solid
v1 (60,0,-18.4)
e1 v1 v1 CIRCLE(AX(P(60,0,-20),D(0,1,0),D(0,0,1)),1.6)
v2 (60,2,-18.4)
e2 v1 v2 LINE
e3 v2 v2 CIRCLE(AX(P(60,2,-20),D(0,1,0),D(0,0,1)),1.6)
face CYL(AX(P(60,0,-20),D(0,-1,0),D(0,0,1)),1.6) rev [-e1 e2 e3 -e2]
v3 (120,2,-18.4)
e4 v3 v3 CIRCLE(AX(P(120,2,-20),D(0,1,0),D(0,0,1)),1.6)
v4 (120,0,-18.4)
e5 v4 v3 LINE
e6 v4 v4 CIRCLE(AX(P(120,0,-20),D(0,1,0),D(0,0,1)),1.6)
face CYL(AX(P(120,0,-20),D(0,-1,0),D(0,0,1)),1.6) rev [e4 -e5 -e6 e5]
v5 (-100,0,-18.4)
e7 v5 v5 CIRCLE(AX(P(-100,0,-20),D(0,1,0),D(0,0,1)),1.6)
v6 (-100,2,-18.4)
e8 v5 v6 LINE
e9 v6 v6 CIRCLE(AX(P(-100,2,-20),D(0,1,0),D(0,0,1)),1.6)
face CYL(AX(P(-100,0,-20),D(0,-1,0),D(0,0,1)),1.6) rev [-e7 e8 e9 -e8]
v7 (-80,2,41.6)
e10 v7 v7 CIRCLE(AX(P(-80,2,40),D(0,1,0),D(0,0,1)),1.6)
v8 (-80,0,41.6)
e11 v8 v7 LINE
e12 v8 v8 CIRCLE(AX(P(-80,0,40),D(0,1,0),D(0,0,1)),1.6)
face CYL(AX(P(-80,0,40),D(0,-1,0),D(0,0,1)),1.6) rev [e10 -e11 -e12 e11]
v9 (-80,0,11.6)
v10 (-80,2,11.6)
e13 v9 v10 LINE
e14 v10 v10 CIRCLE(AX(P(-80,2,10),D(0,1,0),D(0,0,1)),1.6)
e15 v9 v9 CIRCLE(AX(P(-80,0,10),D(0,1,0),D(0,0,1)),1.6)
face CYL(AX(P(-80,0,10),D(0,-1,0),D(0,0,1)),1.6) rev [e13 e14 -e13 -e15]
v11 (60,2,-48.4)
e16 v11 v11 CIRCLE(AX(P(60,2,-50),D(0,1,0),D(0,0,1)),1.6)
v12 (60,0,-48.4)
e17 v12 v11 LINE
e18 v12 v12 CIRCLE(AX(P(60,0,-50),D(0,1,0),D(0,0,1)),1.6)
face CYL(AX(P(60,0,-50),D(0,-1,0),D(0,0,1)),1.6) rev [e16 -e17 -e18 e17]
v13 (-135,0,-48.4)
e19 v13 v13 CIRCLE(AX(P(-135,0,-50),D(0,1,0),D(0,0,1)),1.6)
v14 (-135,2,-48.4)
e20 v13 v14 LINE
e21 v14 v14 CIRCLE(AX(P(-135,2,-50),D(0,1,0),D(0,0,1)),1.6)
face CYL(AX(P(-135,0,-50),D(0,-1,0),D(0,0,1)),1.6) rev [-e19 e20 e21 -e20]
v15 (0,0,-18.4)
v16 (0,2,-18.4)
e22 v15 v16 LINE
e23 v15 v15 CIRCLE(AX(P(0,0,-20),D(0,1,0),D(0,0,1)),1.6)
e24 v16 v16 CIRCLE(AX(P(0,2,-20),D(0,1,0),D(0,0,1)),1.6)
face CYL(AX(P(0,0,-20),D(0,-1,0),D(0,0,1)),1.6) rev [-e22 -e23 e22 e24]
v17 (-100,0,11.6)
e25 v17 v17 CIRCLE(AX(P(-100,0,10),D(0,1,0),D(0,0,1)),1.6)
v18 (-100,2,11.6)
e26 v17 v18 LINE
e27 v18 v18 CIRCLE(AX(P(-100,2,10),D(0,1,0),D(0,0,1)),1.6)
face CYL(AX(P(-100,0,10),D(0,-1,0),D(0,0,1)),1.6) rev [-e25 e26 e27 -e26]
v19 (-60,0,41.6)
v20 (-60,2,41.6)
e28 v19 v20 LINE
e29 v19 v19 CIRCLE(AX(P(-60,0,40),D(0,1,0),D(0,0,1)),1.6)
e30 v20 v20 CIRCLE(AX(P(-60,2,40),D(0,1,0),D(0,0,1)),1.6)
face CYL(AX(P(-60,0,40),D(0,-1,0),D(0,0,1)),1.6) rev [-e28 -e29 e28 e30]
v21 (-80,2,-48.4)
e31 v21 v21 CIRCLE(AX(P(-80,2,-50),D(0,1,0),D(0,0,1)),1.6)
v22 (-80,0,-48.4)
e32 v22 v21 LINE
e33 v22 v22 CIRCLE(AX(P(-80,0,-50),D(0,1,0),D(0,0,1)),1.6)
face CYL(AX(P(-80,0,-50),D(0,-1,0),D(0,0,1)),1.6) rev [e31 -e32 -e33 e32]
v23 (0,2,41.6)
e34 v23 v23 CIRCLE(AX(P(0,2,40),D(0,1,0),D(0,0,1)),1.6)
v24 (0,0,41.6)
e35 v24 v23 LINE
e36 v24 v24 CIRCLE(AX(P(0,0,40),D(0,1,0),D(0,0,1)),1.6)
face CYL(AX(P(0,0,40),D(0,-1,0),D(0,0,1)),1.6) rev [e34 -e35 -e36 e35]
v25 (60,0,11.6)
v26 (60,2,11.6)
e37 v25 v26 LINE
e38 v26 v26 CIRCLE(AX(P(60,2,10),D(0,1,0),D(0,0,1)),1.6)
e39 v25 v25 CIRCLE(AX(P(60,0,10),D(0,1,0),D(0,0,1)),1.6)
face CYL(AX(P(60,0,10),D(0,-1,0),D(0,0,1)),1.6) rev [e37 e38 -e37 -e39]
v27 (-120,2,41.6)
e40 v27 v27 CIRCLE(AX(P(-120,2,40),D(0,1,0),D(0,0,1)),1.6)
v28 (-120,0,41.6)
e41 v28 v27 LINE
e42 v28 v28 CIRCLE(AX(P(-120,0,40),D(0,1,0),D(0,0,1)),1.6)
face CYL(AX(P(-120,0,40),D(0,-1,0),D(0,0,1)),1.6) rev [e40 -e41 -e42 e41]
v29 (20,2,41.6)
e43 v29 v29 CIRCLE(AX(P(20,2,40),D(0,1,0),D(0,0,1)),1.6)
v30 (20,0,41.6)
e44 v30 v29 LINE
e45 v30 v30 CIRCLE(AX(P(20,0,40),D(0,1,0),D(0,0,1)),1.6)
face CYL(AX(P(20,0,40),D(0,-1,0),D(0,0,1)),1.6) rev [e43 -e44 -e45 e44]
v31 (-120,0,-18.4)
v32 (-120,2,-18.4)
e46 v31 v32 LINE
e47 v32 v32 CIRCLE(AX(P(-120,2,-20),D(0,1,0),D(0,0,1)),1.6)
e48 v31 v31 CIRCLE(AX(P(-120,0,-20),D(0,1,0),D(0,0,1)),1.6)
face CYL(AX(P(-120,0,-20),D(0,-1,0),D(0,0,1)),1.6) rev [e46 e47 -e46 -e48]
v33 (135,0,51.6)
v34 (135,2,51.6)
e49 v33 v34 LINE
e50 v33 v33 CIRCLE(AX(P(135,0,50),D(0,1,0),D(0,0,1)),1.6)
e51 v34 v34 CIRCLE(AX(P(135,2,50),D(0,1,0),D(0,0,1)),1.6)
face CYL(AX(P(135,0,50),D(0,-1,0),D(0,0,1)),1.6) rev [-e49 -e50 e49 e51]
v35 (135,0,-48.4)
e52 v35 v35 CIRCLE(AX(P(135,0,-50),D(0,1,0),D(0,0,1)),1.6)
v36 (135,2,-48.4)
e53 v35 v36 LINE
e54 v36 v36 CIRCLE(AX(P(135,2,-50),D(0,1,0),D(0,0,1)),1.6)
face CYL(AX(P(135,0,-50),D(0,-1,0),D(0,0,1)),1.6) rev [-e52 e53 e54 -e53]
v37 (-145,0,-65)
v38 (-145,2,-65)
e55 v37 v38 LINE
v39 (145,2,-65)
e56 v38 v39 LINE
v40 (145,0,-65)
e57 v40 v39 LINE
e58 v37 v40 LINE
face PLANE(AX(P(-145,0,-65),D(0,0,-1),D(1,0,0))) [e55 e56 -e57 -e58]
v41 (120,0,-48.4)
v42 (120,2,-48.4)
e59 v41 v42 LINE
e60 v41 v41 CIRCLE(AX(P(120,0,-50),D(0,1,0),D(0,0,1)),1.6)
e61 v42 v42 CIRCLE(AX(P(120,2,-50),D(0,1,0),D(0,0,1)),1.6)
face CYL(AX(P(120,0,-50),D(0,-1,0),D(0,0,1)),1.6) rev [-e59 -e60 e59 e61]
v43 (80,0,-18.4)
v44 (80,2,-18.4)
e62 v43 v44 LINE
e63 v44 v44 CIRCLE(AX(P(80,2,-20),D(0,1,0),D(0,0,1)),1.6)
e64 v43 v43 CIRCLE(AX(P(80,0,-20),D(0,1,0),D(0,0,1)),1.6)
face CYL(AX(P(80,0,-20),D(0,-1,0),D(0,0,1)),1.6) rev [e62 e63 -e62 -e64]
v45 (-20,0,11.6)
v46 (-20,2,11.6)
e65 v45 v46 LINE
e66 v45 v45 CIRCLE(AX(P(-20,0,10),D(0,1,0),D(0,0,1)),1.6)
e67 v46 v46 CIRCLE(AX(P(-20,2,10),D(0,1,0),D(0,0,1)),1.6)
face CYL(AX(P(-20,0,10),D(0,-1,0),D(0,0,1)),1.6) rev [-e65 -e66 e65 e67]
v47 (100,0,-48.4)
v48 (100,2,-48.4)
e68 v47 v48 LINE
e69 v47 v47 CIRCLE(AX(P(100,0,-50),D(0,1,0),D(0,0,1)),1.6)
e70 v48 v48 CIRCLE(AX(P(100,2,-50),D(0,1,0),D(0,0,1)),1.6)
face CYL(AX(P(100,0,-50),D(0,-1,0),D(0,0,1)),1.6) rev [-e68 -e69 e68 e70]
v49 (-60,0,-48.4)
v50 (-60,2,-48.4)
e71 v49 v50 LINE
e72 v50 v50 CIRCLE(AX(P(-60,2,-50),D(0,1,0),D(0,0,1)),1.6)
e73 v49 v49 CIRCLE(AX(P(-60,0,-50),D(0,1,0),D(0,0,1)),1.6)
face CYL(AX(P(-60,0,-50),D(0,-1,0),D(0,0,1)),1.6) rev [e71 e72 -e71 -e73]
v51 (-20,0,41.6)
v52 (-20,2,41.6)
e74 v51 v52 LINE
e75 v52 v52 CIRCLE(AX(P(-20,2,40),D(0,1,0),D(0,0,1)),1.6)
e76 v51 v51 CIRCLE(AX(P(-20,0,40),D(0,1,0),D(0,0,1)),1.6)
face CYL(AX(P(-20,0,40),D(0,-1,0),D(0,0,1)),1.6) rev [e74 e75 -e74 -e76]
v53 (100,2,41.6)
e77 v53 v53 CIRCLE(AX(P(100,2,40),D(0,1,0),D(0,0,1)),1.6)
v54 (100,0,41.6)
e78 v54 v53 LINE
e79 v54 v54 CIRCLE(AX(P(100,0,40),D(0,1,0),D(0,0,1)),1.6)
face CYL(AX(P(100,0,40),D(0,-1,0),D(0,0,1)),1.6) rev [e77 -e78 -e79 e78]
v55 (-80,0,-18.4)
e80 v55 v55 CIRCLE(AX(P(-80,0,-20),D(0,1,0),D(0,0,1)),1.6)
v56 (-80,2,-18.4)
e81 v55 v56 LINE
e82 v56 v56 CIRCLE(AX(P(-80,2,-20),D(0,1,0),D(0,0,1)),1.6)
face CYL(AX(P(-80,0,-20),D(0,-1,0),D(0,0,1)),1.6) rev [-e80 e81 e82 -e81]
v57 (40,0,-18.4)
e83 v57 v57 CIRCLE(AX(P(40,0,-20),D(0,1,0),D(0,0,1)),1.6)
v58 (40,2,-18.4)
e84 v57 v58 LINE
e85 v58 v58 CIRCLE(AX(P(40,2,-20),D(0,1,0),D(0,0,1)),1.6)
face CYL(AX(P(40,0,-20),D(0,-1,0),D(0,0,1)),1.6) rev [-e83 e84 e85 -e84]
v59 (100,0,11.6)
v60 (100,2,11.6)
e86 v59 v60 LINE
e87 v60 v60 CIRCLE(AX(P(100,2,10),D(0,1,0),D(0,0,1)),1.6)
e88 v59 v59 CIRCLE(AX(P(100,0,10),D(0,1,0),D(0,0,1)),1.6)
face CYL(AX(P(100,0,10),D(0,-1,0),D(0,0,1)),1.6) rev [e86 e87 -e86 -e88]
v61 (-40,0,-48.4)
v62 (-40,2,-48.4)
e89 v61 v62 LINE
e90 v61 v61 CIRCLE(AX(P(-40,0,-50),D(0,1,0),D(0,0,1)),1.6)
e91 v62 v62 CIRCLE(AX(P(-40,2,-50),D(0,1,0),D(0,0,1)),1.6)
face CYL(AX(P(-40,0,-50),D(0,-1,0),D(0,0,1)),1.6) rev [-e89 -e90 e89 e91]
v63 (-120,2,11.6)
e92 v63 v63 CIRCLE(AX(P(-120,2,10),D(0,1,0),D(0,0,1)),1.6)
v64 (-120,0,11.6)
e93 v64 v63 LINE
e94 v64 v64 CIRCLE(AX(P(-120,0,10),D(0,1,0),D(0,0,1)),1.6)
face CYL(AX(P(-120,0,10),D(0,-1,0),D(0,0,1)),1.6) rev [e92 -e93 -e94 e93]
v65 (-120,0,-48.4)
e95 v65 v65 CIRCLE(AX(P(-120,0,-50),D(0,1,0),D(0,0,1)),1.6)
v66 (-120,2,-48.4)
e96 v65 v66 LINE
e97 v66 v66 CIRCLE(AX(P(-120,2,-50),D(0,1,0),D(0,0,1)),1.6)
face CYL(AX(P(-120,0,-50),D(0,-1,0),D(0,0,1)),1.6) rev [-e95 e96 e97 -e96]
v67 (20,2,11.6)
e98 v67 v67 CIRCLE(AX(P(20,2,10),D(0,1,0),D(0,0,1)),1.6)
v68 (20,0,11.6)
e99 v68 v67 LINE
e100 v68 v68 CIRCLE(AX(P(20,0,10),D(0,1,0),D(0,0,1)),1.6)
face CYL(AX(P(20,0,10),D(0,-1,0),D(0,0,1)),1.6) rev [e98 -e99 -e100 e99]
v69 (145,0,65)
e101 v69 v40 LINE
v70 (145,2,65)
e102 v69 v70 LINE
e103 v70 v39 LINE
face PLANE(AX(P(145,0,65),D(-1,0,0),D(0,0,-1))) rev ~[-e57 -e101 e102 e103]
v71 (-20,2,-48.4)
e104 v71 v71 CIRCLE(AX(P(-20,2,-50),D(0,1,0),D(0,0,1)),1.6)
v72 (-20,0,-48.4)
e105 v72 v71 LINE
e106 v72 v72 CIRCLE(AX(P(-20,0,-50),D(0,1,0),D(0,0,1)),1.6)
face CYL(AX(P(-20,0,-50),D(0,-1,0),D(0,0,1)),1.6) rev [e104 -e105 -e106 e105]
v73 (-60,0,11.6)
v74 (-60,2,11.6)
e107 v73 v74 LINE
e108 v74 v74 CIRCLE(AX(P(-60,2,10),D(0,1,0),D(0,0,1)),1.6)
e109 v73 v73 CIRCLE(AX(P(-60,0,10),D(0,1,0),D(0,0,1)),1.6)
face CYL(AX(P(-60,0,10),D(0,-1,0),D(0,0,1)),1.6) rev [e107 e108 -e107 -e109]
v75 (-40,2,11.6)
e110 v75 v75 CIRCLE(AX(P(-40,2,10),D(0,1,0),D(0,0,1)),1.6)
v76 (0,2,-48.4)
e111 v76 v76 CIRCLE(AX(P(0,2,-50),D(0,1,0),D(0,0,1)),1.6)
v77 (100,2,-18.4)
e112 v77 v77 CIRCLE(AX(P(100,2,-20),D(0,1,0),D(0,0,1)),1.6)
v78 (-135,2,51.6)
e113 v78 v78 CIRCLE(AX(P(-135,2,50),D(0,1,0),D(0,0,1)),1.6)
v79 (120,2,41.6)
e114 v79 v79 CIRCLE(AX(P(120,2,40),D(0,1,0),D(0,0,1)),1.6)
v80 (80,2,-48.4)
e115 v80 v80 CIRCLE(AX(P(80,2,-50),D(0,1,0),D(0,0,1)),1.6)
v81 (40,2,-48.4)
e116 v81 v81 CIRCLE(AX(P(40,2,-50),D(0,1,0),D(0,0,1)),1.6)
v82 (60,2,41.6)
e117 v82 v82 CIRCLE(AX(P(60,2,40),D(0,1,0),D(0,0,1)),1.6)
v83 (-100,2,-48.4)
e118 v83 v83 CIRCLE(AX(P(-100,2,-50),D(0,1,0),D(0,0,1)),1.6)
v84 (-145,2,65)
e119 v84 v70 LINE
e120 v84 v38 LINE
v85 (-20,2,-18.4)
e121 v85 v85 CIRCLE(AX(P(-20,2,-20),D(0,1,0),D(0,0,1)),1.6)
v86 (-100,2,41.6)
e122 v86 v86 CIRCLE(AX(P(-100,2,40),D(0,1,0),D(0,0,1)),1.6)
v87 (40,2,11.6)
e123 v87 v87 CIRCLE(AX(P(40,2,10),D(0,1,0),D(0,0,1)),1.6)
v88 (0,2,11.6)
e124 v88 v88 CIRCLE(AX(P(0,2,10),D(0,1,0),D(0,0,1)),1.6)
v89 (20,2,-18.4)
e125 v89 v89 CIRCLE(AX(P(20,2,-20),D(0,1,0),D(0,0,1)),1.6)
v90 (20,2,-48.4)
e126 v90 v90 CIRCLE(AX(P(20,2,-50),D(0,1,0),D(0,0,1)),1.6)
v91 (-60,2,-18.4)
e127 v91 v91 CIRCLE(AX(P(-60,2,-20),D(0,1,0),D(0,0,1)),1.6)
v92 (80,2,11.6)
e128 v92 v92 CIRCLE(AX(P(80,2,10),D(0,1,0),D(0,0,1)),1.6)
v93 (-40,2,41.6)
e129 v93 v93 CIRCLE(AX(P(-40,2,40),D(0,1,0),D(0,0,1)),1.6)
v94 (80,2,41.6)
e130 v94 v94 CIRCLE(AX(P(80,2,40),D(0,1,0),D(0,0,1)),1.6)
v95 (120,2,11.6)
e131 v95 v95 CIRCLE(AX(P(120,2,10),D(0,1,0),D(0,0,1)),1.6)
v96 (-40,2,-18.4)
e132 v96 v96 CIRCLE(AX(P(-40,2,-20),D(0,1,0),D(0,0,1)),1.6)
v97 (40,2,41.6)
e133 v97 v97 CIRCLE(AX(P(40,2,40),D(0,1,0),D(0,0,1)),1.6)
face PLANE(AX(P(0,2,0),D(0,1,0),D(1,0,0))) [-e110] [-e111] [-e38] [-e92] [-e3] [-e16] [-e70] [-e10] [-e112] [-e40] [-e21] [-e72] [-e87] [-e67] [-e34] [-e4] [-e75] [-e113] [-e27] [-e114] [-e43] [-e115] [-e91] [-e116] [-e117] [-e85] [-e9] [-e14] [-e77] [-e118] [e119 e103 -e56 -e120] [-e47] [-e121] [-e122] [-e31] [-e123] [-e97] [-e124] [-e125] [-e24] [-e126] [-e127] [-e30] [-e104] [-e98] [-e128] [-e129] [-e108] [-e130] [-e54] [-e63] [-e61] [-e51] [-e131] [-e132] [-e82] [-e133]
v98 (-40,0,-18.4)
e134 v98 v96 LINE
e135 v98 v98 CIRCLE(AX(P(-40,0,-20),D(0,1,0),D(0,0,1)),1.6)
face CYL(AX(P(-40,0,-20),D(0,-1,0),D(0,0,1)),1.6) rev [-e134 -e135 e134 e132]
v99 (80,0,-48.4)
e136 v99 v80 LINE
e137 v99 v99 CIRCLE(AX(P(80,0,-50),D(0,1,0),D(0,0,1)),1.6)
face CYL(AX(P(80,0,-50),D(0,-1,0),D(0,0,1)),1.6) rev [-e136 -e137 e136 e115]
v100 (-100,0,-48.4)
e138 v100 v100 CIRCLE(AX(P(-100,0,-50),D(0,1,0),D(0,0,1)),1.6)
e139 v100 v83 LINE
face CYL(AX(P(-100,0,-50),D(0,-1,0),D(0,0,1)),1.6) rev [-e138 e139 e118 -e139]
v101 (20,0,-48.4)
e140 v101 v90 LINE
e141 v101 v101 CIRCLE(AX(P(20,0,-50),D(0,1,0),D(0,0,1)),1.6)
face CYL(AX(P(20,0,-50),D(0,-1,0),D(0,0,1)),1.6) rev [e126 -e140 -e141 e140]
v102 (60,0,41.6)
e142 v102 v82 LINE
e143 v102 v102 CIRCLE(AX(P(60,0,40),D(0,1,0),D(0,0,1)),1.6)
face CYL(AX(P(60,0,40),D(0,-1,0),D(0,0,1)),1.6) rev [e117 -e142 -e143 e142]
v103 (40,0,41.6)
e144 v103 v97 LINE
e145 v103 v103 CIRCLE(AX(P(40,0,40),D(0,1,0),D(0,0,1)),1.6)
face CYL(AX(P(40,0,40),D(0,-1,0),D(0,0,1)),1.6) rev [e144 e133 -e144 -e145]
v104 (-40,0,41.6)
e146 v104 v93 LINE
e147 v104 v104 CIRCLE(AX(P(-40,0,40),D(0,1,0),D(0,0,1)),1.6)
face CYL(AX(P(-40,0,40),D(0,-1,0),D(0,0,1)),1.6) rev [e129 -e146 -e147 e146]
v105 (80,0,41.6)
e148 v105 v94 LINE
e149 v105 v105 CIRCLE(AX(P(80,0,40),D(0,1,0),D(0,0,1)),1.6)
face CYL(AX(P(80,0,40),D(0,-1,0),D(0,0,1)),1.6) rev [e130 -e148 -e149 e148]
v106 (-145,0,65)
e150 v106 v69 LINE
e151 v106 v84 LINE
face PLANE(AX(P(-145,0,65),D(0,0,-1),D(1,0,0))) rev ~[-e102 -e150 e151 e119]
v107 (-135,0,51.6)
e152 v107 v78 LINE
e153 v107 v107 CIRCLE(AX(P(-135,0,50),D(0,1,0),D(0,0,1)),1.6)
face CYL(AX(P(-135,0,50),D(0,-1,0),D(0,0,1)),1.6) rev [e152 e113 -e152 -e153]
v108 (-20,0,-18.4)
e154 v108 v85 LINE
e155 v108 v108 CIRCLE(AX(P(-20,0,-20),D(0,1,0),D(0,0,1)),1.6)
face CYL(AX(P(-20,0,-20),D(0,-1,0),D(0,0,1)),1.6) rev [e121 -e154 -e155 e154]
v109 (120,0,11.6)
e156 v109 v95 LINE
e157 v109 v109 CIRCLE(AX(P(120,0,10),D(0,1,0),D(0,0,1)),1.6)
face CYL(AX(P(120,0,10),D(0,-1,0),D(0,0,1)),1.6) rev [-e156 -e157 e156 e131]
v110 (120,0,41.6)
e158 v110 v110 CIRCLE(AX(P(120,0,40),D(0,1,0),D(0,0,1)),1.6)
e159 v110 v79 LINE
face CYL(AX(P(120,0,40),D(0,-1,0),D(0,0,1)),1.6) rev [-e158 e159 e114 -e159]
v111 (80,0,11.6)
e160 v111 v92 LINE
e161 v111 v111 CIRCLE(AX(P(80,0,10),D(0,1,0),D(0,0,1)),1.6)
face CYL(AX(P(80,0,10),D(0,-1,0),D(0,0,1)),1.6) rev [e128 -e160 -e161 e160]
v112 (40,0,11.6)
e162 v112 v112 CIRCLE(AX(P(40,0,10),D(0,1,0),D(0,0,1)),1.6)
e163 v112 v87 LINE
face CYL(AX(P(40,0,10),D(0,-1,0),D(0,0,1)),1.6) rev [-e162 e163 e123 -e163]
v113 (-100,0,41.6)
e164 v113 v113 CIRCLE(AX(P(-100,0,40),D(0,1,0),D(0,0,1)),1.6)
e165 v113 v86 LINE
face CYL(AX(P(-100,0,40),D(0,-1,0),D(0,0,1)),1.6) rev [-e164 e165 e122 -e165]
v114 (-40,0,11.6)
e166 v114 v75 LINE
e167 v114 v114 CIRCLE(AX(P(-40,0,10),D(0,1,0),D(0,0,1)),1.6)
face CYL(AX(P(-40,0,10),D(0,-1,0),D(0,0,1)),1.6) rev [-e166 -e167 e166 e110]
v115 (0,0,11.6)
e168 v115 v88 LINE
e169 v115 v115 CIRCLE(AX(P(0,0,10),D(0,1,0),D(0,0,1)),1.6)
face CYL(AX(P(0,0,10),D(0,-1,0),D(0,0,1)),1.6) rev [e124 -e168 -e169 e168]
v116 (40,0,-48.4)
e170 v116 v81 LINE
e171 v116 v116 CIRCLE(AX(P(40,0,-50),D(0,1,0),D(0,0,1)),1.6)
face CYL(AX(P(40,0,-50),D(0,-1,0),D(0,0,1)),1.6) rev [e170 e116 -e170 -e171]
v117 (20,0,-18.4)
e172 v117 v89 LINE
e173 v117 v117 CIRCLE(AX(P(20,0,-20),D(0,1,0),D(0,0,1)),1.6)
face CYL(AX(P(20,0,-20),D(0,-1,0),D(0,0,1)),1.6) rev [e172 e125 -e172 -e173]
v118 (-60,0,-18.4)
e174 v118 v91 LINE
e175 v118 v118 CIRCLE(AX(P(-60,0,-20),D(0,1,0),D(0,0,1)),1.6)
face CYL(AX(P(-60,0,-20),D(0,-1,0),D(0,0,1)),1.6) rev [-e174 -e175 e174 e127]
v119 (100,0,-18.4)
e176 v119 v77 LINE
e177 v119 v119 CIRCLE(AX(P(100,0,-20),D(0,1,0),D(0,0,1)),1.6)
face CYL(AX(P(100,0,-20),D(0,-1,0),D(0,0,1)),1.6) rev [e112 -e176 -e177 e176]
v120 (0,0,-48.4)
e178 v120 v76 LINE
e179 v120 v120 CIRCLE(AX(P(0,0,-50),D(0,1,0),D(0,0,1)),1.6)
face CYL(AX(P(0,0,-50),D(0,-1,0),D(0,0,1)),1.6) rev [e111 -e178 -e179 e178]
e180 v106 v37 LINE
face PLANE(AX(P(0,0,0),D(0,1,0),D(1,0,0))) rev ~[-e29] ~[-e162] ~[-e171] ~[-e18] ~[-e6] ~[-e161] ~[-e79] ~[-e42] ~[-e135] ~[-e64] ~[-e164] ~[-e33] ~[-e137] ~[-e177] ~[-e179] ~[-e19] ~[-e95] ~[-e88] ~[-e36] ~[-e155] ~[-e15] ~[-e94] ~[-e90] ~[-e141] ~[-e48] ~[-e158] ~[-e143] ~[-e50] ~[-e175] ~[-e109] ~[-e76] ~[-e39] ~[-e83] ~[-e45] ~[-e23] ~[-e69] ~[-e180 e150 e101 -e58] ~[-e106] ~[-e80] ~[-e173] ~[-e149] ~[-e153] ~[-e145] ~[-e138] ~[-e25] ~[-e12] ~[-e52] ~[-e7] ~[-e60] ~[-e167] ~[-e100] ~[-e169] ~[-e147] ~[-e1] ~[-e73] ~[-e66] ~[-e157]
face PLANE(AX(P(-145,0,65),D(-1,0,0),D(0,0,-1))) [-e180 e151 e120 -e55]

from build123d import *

# Parameters (mm, degrees)
SKETCH1_W           = 290
SKETCH1_H           = 130
SKETCH1_R           = 1.6
BOSS_EXTRUDE1_DEPTH = 2


with BuildPart() as part:
    # Sketch1 → Boss-Extrude1 (new body)
    with BuildSketch(Plane(origin=(0, 0, 0), x_dir=(1, 0, 0), z_dir=(0, 1, 0))):
        Rectangle(SKETCH1_W, SKETCH1_H)
        with Locations(Location((-135, 50, 0), (0, 0, 270))):
            Circle(SKETCH1_R, mode=Mode.SUBTRACT)
        with Locations(Location((-135, -50, 0), (0, 0, 270))):
            Circle(SKETCH1_R, mode=Mode.SUBTRACT)
        with Locations(Location((135, -50, 0), (0, 0, 270))):
            Circle(SKETCH1_R, mode=Mode.SUBTRACT)
        with Locations(Location((135, 50, 0), (0, 0, 270))):
            Circle(SKETCH1_R, mode=Mode.SUBTRACT)
        with Locations(Location((-120, 50, 0), (0, 0, 270))):
            Circle(SKETCH1_R, mode=Mode.SUBTRACT)
        with Locations(Location((-100, 50, 0), (0, 0, 270))):
            Circle(SKETCH1_R, mode=Mode.SUBTRACT)
        with Locations(Location((-80, 50, 0), (0, 0, 270))):
            Circle(SKETCH1_R, mode=Mode.SUBTRACT)
        with Locations(Location((-60, 50, 0), (0, 0, 270))):
            Circle(SKETCH1_R, mode=Mode.SUBTRACT)
        with Locations(Location((-40, 50, 0), (0, 0, 270))):
            Circle(SKETCH1_R, mode=Mode.SUBTRACT)
        with Locations(Location((-20, 50, 0), (0, 0, 270))):
            Circle(SKETCH1_R, mode=Mode.SUBTRACT)
        with Locations(Location((0, 50, 0), (0, 0, 270))):
            Circle(SKETCH1_R, mode=Mode.SUBTRACT)
        with Locations(Location((20, 50, 0), (0, 0, 270))):
            Circle(SKETCH1_R, mode=Mode.SUBTRACT)
        with Locations(Location((40, 50, 0), (0, 0, 270))):
            Circle(SKETCH1_R, mode=Mode.SUBTRACT)
        with Locations(Location((60, 50, 0), (0, 0, 270))):
            Circle(SKETCH1_R, mode=Mode.SUBTRACT)
        with Locations(Location((80, 50, 0), (0, 0, 270))):
            Circle(SKETCH1_R, mode=Mode.SUBTRACT)
        with Locations(Location((100, 50, 0), (0, 0, 270))):
            Circle(SKETCH1_R, mode=Mode.SUBTRACT)
        with Locations(Location((120, 50, 0), (0, 0, 270))):
            Circle(SKETCH1_R, mode=Mode.SUBTRACT)
        with Locations(Location((-100, 20, 0), (0, 0, 270))):
            Circle(SKETCH1_R, mode=Mode.SUBTRACT)
        with Locations(Location((-80, 20, 0), (0, 0, 270))):
            Circle(SKETCH1_R, mode=Mode.SUBTRACT)
        with Locations(Location((-60, 20, 0), (0, 0, 270))):
            Circle(SKETCH1_R, mode=Mode.SUBTRACT)
        with Locations(Location((-40, 20, 0), (0, 0, 270))):
            Circle(SKETCH1_R, mode=Mode.SUBTRACT)
        with Locations(Location((-20, 20, 0), (0, 0, 270))):
            Circle(SKETCH1_R, mode=Mode.SUBTRACT)
        with Locations(Location((0, 20, 0), (0, 0, 270))):
            Circle(SKETCH1_R, mode=Mode.SUBTRACT)
        with Locations(Location((20, 20, 0), (0, 0, 270))):
            Circle(SKETCH1_R, mode=Mode.SUBTRACT)
        with Locations(Location((40, 20, 0), (0, 0, 270))):
            Circle(SKETCH1_R, mode=Mode.SUBTRACT)
        with Locations(Location((60, 20, 0), (0, 0, 270))):
            Circle(SKETCH1_R, mode=Mode.SUBTRACT)
        with Locations(Location((80, 20, 0), (0, 0, 270))):
            Circle(SKETCH1_R, mode=Mode.SUBTRACT)
        with Locations(Location((100, 20, 0), (0, 0, 270))):
            Circle(SKETCH1_R, mode=Mode.SUBTRACT)
        with Locations(Location((120, 20, 0), (0, 0, 270))):
            Circle(SKETCH1_R, mode=Mode.SUBTRACT)
        with Locations(Location((-100, -10, 0), (0, 0, 270))):
            Circle(SKETCH1_R, mode=Mode.SUBTRACT)
        with Locations(Location((-80, -10, 0), (0, 0, 270))):
            Circle(SKETCH1_R, mode=Mode.SUBTRACT)
        with Locations(Location((-60, -10, 0), (0, 0, 270))):
            Circle(SKETCH1_R, mode=Mode.SUBTRACT)
        with Locations(Location((-40, -10, 0), (0, 0, 270))):
            Circle(SKETCH1_R, mode=Mode.SUBTRACT)
        with Locations(Location((-20, -10, 0), (0, 0, 270))):
            Circle(SKETCH1_R, mode=Mode.SUBTRACT)
        with Locations(Location((0, -10, 0), (0, 0, 270))):
            Circle(SKETCH1_R, mode=Mode.SUBTRACT)
        with Locations(Location((20, -10, 0), (0, 0, 270))):
            Circle(SKETCH1_R, mode=Mode.SUBTRACT)
        with Locations(Location((40, -10, 0), (0, 0, 270))):
            Circle(SKETCH1_R, mode=Mode.SUBTRACT)
        with Locations(Location((60, -10, 0), (0, 0, 270))):
            Circle(SKETCH1_R, mode=Mode.SUBTRACT)
        with Locations(Location((80, -10, 0), (0, 0, 270))):
            Circle(SKETCH1_R, mode=Mode.SUBTRACT)
        with Locations(Location((100, -10, 0), (0, 0, 270))):
            Circle(SKETCH1_R, mode=Mode.SUBTRACT)
        with Locations(Location((120, -10, 0), (0, 0, 270))):
            Circle(SKETCH1_R, mode=Mode.SUBTRACT)
        with Locations(Location((-100, -40, 0), (0, 0, 270))):
            Circle(SKETCH1_R, mode=Mode.SUBTRACT)
        with Locations(Location((-80, -40, 0), (0, 0, 270))):
            Circle(SKETCH1_R, mode=Mode.SUBTRACT)
        with Locations(Location((-60, -40, 0), (0, 0, 270))):
            Circle(SKETCH1_R, mode=Mode.SUBTRACT)
        with Locations(Location((-40, -40, 0), (0, 0, 270))):
            Circle(SKETCH1_R, mode=Mode.SUBTRACT)
        with Locations(Location((-20, -40, 0), (0, 0, 270))):
            Circle(SKETCH1_R, mode=Mode.SUBTRACT)
        with Locations(Location((0, -40, 0), (0, 0, 270))):
            Circle(SKETCH1_R, mode=Mode.SUBTRACT)
        with Locations(Location((20, -40, 0), (0, 0, 270))):
            Circle(SKETCH1_R, mode=Mode.SUBTRACT)
        with Locations(Location((40, -40, 0), (0, 0, 270))):
            Circle(SKETCH1_R, mode=Mode.SUBTRACT)
        with Locations(Location((60, -40, 0), (0, 0, 270))):
            Circle(SKETCH1_R, mode=Mode.SUBTRACT)
        with Locations(Location((80, -40, 0), (0, 0, 270))):
            Circle(SKETCH1_R, mode=Mode.SUBTRACT)
        with Locations(Location((100, -40, 0), (0, 0, 270))):
            Circle(SKETCH1_R, mode=Mode.SUBTRACT)
        with Locations(Location((120, -40, 0), (0, 0, 270))):
            Circle(SKETCH1_R, mode=Mode.SUBTRACT)
        with Locations(Location((-120, 20, 0), (0, 0, 270))):
            Circle(SKETCH1_R, mode=Mode.SUBTRACT)
        with Locations(Location((-120, -10, 0), (0, 0, 270))):
            Circle(SKETCH1_R, mode=Mode.SUBTRACT)
        with Locations(Location((-120, -40, 0), (0, 0, 270))):
            Circle(SKETCH1_R, mode=Mode.SUBTRACT)
    extrude(amount=BOSS_EXTRUDE1_DEPTH)


solid = part.part
